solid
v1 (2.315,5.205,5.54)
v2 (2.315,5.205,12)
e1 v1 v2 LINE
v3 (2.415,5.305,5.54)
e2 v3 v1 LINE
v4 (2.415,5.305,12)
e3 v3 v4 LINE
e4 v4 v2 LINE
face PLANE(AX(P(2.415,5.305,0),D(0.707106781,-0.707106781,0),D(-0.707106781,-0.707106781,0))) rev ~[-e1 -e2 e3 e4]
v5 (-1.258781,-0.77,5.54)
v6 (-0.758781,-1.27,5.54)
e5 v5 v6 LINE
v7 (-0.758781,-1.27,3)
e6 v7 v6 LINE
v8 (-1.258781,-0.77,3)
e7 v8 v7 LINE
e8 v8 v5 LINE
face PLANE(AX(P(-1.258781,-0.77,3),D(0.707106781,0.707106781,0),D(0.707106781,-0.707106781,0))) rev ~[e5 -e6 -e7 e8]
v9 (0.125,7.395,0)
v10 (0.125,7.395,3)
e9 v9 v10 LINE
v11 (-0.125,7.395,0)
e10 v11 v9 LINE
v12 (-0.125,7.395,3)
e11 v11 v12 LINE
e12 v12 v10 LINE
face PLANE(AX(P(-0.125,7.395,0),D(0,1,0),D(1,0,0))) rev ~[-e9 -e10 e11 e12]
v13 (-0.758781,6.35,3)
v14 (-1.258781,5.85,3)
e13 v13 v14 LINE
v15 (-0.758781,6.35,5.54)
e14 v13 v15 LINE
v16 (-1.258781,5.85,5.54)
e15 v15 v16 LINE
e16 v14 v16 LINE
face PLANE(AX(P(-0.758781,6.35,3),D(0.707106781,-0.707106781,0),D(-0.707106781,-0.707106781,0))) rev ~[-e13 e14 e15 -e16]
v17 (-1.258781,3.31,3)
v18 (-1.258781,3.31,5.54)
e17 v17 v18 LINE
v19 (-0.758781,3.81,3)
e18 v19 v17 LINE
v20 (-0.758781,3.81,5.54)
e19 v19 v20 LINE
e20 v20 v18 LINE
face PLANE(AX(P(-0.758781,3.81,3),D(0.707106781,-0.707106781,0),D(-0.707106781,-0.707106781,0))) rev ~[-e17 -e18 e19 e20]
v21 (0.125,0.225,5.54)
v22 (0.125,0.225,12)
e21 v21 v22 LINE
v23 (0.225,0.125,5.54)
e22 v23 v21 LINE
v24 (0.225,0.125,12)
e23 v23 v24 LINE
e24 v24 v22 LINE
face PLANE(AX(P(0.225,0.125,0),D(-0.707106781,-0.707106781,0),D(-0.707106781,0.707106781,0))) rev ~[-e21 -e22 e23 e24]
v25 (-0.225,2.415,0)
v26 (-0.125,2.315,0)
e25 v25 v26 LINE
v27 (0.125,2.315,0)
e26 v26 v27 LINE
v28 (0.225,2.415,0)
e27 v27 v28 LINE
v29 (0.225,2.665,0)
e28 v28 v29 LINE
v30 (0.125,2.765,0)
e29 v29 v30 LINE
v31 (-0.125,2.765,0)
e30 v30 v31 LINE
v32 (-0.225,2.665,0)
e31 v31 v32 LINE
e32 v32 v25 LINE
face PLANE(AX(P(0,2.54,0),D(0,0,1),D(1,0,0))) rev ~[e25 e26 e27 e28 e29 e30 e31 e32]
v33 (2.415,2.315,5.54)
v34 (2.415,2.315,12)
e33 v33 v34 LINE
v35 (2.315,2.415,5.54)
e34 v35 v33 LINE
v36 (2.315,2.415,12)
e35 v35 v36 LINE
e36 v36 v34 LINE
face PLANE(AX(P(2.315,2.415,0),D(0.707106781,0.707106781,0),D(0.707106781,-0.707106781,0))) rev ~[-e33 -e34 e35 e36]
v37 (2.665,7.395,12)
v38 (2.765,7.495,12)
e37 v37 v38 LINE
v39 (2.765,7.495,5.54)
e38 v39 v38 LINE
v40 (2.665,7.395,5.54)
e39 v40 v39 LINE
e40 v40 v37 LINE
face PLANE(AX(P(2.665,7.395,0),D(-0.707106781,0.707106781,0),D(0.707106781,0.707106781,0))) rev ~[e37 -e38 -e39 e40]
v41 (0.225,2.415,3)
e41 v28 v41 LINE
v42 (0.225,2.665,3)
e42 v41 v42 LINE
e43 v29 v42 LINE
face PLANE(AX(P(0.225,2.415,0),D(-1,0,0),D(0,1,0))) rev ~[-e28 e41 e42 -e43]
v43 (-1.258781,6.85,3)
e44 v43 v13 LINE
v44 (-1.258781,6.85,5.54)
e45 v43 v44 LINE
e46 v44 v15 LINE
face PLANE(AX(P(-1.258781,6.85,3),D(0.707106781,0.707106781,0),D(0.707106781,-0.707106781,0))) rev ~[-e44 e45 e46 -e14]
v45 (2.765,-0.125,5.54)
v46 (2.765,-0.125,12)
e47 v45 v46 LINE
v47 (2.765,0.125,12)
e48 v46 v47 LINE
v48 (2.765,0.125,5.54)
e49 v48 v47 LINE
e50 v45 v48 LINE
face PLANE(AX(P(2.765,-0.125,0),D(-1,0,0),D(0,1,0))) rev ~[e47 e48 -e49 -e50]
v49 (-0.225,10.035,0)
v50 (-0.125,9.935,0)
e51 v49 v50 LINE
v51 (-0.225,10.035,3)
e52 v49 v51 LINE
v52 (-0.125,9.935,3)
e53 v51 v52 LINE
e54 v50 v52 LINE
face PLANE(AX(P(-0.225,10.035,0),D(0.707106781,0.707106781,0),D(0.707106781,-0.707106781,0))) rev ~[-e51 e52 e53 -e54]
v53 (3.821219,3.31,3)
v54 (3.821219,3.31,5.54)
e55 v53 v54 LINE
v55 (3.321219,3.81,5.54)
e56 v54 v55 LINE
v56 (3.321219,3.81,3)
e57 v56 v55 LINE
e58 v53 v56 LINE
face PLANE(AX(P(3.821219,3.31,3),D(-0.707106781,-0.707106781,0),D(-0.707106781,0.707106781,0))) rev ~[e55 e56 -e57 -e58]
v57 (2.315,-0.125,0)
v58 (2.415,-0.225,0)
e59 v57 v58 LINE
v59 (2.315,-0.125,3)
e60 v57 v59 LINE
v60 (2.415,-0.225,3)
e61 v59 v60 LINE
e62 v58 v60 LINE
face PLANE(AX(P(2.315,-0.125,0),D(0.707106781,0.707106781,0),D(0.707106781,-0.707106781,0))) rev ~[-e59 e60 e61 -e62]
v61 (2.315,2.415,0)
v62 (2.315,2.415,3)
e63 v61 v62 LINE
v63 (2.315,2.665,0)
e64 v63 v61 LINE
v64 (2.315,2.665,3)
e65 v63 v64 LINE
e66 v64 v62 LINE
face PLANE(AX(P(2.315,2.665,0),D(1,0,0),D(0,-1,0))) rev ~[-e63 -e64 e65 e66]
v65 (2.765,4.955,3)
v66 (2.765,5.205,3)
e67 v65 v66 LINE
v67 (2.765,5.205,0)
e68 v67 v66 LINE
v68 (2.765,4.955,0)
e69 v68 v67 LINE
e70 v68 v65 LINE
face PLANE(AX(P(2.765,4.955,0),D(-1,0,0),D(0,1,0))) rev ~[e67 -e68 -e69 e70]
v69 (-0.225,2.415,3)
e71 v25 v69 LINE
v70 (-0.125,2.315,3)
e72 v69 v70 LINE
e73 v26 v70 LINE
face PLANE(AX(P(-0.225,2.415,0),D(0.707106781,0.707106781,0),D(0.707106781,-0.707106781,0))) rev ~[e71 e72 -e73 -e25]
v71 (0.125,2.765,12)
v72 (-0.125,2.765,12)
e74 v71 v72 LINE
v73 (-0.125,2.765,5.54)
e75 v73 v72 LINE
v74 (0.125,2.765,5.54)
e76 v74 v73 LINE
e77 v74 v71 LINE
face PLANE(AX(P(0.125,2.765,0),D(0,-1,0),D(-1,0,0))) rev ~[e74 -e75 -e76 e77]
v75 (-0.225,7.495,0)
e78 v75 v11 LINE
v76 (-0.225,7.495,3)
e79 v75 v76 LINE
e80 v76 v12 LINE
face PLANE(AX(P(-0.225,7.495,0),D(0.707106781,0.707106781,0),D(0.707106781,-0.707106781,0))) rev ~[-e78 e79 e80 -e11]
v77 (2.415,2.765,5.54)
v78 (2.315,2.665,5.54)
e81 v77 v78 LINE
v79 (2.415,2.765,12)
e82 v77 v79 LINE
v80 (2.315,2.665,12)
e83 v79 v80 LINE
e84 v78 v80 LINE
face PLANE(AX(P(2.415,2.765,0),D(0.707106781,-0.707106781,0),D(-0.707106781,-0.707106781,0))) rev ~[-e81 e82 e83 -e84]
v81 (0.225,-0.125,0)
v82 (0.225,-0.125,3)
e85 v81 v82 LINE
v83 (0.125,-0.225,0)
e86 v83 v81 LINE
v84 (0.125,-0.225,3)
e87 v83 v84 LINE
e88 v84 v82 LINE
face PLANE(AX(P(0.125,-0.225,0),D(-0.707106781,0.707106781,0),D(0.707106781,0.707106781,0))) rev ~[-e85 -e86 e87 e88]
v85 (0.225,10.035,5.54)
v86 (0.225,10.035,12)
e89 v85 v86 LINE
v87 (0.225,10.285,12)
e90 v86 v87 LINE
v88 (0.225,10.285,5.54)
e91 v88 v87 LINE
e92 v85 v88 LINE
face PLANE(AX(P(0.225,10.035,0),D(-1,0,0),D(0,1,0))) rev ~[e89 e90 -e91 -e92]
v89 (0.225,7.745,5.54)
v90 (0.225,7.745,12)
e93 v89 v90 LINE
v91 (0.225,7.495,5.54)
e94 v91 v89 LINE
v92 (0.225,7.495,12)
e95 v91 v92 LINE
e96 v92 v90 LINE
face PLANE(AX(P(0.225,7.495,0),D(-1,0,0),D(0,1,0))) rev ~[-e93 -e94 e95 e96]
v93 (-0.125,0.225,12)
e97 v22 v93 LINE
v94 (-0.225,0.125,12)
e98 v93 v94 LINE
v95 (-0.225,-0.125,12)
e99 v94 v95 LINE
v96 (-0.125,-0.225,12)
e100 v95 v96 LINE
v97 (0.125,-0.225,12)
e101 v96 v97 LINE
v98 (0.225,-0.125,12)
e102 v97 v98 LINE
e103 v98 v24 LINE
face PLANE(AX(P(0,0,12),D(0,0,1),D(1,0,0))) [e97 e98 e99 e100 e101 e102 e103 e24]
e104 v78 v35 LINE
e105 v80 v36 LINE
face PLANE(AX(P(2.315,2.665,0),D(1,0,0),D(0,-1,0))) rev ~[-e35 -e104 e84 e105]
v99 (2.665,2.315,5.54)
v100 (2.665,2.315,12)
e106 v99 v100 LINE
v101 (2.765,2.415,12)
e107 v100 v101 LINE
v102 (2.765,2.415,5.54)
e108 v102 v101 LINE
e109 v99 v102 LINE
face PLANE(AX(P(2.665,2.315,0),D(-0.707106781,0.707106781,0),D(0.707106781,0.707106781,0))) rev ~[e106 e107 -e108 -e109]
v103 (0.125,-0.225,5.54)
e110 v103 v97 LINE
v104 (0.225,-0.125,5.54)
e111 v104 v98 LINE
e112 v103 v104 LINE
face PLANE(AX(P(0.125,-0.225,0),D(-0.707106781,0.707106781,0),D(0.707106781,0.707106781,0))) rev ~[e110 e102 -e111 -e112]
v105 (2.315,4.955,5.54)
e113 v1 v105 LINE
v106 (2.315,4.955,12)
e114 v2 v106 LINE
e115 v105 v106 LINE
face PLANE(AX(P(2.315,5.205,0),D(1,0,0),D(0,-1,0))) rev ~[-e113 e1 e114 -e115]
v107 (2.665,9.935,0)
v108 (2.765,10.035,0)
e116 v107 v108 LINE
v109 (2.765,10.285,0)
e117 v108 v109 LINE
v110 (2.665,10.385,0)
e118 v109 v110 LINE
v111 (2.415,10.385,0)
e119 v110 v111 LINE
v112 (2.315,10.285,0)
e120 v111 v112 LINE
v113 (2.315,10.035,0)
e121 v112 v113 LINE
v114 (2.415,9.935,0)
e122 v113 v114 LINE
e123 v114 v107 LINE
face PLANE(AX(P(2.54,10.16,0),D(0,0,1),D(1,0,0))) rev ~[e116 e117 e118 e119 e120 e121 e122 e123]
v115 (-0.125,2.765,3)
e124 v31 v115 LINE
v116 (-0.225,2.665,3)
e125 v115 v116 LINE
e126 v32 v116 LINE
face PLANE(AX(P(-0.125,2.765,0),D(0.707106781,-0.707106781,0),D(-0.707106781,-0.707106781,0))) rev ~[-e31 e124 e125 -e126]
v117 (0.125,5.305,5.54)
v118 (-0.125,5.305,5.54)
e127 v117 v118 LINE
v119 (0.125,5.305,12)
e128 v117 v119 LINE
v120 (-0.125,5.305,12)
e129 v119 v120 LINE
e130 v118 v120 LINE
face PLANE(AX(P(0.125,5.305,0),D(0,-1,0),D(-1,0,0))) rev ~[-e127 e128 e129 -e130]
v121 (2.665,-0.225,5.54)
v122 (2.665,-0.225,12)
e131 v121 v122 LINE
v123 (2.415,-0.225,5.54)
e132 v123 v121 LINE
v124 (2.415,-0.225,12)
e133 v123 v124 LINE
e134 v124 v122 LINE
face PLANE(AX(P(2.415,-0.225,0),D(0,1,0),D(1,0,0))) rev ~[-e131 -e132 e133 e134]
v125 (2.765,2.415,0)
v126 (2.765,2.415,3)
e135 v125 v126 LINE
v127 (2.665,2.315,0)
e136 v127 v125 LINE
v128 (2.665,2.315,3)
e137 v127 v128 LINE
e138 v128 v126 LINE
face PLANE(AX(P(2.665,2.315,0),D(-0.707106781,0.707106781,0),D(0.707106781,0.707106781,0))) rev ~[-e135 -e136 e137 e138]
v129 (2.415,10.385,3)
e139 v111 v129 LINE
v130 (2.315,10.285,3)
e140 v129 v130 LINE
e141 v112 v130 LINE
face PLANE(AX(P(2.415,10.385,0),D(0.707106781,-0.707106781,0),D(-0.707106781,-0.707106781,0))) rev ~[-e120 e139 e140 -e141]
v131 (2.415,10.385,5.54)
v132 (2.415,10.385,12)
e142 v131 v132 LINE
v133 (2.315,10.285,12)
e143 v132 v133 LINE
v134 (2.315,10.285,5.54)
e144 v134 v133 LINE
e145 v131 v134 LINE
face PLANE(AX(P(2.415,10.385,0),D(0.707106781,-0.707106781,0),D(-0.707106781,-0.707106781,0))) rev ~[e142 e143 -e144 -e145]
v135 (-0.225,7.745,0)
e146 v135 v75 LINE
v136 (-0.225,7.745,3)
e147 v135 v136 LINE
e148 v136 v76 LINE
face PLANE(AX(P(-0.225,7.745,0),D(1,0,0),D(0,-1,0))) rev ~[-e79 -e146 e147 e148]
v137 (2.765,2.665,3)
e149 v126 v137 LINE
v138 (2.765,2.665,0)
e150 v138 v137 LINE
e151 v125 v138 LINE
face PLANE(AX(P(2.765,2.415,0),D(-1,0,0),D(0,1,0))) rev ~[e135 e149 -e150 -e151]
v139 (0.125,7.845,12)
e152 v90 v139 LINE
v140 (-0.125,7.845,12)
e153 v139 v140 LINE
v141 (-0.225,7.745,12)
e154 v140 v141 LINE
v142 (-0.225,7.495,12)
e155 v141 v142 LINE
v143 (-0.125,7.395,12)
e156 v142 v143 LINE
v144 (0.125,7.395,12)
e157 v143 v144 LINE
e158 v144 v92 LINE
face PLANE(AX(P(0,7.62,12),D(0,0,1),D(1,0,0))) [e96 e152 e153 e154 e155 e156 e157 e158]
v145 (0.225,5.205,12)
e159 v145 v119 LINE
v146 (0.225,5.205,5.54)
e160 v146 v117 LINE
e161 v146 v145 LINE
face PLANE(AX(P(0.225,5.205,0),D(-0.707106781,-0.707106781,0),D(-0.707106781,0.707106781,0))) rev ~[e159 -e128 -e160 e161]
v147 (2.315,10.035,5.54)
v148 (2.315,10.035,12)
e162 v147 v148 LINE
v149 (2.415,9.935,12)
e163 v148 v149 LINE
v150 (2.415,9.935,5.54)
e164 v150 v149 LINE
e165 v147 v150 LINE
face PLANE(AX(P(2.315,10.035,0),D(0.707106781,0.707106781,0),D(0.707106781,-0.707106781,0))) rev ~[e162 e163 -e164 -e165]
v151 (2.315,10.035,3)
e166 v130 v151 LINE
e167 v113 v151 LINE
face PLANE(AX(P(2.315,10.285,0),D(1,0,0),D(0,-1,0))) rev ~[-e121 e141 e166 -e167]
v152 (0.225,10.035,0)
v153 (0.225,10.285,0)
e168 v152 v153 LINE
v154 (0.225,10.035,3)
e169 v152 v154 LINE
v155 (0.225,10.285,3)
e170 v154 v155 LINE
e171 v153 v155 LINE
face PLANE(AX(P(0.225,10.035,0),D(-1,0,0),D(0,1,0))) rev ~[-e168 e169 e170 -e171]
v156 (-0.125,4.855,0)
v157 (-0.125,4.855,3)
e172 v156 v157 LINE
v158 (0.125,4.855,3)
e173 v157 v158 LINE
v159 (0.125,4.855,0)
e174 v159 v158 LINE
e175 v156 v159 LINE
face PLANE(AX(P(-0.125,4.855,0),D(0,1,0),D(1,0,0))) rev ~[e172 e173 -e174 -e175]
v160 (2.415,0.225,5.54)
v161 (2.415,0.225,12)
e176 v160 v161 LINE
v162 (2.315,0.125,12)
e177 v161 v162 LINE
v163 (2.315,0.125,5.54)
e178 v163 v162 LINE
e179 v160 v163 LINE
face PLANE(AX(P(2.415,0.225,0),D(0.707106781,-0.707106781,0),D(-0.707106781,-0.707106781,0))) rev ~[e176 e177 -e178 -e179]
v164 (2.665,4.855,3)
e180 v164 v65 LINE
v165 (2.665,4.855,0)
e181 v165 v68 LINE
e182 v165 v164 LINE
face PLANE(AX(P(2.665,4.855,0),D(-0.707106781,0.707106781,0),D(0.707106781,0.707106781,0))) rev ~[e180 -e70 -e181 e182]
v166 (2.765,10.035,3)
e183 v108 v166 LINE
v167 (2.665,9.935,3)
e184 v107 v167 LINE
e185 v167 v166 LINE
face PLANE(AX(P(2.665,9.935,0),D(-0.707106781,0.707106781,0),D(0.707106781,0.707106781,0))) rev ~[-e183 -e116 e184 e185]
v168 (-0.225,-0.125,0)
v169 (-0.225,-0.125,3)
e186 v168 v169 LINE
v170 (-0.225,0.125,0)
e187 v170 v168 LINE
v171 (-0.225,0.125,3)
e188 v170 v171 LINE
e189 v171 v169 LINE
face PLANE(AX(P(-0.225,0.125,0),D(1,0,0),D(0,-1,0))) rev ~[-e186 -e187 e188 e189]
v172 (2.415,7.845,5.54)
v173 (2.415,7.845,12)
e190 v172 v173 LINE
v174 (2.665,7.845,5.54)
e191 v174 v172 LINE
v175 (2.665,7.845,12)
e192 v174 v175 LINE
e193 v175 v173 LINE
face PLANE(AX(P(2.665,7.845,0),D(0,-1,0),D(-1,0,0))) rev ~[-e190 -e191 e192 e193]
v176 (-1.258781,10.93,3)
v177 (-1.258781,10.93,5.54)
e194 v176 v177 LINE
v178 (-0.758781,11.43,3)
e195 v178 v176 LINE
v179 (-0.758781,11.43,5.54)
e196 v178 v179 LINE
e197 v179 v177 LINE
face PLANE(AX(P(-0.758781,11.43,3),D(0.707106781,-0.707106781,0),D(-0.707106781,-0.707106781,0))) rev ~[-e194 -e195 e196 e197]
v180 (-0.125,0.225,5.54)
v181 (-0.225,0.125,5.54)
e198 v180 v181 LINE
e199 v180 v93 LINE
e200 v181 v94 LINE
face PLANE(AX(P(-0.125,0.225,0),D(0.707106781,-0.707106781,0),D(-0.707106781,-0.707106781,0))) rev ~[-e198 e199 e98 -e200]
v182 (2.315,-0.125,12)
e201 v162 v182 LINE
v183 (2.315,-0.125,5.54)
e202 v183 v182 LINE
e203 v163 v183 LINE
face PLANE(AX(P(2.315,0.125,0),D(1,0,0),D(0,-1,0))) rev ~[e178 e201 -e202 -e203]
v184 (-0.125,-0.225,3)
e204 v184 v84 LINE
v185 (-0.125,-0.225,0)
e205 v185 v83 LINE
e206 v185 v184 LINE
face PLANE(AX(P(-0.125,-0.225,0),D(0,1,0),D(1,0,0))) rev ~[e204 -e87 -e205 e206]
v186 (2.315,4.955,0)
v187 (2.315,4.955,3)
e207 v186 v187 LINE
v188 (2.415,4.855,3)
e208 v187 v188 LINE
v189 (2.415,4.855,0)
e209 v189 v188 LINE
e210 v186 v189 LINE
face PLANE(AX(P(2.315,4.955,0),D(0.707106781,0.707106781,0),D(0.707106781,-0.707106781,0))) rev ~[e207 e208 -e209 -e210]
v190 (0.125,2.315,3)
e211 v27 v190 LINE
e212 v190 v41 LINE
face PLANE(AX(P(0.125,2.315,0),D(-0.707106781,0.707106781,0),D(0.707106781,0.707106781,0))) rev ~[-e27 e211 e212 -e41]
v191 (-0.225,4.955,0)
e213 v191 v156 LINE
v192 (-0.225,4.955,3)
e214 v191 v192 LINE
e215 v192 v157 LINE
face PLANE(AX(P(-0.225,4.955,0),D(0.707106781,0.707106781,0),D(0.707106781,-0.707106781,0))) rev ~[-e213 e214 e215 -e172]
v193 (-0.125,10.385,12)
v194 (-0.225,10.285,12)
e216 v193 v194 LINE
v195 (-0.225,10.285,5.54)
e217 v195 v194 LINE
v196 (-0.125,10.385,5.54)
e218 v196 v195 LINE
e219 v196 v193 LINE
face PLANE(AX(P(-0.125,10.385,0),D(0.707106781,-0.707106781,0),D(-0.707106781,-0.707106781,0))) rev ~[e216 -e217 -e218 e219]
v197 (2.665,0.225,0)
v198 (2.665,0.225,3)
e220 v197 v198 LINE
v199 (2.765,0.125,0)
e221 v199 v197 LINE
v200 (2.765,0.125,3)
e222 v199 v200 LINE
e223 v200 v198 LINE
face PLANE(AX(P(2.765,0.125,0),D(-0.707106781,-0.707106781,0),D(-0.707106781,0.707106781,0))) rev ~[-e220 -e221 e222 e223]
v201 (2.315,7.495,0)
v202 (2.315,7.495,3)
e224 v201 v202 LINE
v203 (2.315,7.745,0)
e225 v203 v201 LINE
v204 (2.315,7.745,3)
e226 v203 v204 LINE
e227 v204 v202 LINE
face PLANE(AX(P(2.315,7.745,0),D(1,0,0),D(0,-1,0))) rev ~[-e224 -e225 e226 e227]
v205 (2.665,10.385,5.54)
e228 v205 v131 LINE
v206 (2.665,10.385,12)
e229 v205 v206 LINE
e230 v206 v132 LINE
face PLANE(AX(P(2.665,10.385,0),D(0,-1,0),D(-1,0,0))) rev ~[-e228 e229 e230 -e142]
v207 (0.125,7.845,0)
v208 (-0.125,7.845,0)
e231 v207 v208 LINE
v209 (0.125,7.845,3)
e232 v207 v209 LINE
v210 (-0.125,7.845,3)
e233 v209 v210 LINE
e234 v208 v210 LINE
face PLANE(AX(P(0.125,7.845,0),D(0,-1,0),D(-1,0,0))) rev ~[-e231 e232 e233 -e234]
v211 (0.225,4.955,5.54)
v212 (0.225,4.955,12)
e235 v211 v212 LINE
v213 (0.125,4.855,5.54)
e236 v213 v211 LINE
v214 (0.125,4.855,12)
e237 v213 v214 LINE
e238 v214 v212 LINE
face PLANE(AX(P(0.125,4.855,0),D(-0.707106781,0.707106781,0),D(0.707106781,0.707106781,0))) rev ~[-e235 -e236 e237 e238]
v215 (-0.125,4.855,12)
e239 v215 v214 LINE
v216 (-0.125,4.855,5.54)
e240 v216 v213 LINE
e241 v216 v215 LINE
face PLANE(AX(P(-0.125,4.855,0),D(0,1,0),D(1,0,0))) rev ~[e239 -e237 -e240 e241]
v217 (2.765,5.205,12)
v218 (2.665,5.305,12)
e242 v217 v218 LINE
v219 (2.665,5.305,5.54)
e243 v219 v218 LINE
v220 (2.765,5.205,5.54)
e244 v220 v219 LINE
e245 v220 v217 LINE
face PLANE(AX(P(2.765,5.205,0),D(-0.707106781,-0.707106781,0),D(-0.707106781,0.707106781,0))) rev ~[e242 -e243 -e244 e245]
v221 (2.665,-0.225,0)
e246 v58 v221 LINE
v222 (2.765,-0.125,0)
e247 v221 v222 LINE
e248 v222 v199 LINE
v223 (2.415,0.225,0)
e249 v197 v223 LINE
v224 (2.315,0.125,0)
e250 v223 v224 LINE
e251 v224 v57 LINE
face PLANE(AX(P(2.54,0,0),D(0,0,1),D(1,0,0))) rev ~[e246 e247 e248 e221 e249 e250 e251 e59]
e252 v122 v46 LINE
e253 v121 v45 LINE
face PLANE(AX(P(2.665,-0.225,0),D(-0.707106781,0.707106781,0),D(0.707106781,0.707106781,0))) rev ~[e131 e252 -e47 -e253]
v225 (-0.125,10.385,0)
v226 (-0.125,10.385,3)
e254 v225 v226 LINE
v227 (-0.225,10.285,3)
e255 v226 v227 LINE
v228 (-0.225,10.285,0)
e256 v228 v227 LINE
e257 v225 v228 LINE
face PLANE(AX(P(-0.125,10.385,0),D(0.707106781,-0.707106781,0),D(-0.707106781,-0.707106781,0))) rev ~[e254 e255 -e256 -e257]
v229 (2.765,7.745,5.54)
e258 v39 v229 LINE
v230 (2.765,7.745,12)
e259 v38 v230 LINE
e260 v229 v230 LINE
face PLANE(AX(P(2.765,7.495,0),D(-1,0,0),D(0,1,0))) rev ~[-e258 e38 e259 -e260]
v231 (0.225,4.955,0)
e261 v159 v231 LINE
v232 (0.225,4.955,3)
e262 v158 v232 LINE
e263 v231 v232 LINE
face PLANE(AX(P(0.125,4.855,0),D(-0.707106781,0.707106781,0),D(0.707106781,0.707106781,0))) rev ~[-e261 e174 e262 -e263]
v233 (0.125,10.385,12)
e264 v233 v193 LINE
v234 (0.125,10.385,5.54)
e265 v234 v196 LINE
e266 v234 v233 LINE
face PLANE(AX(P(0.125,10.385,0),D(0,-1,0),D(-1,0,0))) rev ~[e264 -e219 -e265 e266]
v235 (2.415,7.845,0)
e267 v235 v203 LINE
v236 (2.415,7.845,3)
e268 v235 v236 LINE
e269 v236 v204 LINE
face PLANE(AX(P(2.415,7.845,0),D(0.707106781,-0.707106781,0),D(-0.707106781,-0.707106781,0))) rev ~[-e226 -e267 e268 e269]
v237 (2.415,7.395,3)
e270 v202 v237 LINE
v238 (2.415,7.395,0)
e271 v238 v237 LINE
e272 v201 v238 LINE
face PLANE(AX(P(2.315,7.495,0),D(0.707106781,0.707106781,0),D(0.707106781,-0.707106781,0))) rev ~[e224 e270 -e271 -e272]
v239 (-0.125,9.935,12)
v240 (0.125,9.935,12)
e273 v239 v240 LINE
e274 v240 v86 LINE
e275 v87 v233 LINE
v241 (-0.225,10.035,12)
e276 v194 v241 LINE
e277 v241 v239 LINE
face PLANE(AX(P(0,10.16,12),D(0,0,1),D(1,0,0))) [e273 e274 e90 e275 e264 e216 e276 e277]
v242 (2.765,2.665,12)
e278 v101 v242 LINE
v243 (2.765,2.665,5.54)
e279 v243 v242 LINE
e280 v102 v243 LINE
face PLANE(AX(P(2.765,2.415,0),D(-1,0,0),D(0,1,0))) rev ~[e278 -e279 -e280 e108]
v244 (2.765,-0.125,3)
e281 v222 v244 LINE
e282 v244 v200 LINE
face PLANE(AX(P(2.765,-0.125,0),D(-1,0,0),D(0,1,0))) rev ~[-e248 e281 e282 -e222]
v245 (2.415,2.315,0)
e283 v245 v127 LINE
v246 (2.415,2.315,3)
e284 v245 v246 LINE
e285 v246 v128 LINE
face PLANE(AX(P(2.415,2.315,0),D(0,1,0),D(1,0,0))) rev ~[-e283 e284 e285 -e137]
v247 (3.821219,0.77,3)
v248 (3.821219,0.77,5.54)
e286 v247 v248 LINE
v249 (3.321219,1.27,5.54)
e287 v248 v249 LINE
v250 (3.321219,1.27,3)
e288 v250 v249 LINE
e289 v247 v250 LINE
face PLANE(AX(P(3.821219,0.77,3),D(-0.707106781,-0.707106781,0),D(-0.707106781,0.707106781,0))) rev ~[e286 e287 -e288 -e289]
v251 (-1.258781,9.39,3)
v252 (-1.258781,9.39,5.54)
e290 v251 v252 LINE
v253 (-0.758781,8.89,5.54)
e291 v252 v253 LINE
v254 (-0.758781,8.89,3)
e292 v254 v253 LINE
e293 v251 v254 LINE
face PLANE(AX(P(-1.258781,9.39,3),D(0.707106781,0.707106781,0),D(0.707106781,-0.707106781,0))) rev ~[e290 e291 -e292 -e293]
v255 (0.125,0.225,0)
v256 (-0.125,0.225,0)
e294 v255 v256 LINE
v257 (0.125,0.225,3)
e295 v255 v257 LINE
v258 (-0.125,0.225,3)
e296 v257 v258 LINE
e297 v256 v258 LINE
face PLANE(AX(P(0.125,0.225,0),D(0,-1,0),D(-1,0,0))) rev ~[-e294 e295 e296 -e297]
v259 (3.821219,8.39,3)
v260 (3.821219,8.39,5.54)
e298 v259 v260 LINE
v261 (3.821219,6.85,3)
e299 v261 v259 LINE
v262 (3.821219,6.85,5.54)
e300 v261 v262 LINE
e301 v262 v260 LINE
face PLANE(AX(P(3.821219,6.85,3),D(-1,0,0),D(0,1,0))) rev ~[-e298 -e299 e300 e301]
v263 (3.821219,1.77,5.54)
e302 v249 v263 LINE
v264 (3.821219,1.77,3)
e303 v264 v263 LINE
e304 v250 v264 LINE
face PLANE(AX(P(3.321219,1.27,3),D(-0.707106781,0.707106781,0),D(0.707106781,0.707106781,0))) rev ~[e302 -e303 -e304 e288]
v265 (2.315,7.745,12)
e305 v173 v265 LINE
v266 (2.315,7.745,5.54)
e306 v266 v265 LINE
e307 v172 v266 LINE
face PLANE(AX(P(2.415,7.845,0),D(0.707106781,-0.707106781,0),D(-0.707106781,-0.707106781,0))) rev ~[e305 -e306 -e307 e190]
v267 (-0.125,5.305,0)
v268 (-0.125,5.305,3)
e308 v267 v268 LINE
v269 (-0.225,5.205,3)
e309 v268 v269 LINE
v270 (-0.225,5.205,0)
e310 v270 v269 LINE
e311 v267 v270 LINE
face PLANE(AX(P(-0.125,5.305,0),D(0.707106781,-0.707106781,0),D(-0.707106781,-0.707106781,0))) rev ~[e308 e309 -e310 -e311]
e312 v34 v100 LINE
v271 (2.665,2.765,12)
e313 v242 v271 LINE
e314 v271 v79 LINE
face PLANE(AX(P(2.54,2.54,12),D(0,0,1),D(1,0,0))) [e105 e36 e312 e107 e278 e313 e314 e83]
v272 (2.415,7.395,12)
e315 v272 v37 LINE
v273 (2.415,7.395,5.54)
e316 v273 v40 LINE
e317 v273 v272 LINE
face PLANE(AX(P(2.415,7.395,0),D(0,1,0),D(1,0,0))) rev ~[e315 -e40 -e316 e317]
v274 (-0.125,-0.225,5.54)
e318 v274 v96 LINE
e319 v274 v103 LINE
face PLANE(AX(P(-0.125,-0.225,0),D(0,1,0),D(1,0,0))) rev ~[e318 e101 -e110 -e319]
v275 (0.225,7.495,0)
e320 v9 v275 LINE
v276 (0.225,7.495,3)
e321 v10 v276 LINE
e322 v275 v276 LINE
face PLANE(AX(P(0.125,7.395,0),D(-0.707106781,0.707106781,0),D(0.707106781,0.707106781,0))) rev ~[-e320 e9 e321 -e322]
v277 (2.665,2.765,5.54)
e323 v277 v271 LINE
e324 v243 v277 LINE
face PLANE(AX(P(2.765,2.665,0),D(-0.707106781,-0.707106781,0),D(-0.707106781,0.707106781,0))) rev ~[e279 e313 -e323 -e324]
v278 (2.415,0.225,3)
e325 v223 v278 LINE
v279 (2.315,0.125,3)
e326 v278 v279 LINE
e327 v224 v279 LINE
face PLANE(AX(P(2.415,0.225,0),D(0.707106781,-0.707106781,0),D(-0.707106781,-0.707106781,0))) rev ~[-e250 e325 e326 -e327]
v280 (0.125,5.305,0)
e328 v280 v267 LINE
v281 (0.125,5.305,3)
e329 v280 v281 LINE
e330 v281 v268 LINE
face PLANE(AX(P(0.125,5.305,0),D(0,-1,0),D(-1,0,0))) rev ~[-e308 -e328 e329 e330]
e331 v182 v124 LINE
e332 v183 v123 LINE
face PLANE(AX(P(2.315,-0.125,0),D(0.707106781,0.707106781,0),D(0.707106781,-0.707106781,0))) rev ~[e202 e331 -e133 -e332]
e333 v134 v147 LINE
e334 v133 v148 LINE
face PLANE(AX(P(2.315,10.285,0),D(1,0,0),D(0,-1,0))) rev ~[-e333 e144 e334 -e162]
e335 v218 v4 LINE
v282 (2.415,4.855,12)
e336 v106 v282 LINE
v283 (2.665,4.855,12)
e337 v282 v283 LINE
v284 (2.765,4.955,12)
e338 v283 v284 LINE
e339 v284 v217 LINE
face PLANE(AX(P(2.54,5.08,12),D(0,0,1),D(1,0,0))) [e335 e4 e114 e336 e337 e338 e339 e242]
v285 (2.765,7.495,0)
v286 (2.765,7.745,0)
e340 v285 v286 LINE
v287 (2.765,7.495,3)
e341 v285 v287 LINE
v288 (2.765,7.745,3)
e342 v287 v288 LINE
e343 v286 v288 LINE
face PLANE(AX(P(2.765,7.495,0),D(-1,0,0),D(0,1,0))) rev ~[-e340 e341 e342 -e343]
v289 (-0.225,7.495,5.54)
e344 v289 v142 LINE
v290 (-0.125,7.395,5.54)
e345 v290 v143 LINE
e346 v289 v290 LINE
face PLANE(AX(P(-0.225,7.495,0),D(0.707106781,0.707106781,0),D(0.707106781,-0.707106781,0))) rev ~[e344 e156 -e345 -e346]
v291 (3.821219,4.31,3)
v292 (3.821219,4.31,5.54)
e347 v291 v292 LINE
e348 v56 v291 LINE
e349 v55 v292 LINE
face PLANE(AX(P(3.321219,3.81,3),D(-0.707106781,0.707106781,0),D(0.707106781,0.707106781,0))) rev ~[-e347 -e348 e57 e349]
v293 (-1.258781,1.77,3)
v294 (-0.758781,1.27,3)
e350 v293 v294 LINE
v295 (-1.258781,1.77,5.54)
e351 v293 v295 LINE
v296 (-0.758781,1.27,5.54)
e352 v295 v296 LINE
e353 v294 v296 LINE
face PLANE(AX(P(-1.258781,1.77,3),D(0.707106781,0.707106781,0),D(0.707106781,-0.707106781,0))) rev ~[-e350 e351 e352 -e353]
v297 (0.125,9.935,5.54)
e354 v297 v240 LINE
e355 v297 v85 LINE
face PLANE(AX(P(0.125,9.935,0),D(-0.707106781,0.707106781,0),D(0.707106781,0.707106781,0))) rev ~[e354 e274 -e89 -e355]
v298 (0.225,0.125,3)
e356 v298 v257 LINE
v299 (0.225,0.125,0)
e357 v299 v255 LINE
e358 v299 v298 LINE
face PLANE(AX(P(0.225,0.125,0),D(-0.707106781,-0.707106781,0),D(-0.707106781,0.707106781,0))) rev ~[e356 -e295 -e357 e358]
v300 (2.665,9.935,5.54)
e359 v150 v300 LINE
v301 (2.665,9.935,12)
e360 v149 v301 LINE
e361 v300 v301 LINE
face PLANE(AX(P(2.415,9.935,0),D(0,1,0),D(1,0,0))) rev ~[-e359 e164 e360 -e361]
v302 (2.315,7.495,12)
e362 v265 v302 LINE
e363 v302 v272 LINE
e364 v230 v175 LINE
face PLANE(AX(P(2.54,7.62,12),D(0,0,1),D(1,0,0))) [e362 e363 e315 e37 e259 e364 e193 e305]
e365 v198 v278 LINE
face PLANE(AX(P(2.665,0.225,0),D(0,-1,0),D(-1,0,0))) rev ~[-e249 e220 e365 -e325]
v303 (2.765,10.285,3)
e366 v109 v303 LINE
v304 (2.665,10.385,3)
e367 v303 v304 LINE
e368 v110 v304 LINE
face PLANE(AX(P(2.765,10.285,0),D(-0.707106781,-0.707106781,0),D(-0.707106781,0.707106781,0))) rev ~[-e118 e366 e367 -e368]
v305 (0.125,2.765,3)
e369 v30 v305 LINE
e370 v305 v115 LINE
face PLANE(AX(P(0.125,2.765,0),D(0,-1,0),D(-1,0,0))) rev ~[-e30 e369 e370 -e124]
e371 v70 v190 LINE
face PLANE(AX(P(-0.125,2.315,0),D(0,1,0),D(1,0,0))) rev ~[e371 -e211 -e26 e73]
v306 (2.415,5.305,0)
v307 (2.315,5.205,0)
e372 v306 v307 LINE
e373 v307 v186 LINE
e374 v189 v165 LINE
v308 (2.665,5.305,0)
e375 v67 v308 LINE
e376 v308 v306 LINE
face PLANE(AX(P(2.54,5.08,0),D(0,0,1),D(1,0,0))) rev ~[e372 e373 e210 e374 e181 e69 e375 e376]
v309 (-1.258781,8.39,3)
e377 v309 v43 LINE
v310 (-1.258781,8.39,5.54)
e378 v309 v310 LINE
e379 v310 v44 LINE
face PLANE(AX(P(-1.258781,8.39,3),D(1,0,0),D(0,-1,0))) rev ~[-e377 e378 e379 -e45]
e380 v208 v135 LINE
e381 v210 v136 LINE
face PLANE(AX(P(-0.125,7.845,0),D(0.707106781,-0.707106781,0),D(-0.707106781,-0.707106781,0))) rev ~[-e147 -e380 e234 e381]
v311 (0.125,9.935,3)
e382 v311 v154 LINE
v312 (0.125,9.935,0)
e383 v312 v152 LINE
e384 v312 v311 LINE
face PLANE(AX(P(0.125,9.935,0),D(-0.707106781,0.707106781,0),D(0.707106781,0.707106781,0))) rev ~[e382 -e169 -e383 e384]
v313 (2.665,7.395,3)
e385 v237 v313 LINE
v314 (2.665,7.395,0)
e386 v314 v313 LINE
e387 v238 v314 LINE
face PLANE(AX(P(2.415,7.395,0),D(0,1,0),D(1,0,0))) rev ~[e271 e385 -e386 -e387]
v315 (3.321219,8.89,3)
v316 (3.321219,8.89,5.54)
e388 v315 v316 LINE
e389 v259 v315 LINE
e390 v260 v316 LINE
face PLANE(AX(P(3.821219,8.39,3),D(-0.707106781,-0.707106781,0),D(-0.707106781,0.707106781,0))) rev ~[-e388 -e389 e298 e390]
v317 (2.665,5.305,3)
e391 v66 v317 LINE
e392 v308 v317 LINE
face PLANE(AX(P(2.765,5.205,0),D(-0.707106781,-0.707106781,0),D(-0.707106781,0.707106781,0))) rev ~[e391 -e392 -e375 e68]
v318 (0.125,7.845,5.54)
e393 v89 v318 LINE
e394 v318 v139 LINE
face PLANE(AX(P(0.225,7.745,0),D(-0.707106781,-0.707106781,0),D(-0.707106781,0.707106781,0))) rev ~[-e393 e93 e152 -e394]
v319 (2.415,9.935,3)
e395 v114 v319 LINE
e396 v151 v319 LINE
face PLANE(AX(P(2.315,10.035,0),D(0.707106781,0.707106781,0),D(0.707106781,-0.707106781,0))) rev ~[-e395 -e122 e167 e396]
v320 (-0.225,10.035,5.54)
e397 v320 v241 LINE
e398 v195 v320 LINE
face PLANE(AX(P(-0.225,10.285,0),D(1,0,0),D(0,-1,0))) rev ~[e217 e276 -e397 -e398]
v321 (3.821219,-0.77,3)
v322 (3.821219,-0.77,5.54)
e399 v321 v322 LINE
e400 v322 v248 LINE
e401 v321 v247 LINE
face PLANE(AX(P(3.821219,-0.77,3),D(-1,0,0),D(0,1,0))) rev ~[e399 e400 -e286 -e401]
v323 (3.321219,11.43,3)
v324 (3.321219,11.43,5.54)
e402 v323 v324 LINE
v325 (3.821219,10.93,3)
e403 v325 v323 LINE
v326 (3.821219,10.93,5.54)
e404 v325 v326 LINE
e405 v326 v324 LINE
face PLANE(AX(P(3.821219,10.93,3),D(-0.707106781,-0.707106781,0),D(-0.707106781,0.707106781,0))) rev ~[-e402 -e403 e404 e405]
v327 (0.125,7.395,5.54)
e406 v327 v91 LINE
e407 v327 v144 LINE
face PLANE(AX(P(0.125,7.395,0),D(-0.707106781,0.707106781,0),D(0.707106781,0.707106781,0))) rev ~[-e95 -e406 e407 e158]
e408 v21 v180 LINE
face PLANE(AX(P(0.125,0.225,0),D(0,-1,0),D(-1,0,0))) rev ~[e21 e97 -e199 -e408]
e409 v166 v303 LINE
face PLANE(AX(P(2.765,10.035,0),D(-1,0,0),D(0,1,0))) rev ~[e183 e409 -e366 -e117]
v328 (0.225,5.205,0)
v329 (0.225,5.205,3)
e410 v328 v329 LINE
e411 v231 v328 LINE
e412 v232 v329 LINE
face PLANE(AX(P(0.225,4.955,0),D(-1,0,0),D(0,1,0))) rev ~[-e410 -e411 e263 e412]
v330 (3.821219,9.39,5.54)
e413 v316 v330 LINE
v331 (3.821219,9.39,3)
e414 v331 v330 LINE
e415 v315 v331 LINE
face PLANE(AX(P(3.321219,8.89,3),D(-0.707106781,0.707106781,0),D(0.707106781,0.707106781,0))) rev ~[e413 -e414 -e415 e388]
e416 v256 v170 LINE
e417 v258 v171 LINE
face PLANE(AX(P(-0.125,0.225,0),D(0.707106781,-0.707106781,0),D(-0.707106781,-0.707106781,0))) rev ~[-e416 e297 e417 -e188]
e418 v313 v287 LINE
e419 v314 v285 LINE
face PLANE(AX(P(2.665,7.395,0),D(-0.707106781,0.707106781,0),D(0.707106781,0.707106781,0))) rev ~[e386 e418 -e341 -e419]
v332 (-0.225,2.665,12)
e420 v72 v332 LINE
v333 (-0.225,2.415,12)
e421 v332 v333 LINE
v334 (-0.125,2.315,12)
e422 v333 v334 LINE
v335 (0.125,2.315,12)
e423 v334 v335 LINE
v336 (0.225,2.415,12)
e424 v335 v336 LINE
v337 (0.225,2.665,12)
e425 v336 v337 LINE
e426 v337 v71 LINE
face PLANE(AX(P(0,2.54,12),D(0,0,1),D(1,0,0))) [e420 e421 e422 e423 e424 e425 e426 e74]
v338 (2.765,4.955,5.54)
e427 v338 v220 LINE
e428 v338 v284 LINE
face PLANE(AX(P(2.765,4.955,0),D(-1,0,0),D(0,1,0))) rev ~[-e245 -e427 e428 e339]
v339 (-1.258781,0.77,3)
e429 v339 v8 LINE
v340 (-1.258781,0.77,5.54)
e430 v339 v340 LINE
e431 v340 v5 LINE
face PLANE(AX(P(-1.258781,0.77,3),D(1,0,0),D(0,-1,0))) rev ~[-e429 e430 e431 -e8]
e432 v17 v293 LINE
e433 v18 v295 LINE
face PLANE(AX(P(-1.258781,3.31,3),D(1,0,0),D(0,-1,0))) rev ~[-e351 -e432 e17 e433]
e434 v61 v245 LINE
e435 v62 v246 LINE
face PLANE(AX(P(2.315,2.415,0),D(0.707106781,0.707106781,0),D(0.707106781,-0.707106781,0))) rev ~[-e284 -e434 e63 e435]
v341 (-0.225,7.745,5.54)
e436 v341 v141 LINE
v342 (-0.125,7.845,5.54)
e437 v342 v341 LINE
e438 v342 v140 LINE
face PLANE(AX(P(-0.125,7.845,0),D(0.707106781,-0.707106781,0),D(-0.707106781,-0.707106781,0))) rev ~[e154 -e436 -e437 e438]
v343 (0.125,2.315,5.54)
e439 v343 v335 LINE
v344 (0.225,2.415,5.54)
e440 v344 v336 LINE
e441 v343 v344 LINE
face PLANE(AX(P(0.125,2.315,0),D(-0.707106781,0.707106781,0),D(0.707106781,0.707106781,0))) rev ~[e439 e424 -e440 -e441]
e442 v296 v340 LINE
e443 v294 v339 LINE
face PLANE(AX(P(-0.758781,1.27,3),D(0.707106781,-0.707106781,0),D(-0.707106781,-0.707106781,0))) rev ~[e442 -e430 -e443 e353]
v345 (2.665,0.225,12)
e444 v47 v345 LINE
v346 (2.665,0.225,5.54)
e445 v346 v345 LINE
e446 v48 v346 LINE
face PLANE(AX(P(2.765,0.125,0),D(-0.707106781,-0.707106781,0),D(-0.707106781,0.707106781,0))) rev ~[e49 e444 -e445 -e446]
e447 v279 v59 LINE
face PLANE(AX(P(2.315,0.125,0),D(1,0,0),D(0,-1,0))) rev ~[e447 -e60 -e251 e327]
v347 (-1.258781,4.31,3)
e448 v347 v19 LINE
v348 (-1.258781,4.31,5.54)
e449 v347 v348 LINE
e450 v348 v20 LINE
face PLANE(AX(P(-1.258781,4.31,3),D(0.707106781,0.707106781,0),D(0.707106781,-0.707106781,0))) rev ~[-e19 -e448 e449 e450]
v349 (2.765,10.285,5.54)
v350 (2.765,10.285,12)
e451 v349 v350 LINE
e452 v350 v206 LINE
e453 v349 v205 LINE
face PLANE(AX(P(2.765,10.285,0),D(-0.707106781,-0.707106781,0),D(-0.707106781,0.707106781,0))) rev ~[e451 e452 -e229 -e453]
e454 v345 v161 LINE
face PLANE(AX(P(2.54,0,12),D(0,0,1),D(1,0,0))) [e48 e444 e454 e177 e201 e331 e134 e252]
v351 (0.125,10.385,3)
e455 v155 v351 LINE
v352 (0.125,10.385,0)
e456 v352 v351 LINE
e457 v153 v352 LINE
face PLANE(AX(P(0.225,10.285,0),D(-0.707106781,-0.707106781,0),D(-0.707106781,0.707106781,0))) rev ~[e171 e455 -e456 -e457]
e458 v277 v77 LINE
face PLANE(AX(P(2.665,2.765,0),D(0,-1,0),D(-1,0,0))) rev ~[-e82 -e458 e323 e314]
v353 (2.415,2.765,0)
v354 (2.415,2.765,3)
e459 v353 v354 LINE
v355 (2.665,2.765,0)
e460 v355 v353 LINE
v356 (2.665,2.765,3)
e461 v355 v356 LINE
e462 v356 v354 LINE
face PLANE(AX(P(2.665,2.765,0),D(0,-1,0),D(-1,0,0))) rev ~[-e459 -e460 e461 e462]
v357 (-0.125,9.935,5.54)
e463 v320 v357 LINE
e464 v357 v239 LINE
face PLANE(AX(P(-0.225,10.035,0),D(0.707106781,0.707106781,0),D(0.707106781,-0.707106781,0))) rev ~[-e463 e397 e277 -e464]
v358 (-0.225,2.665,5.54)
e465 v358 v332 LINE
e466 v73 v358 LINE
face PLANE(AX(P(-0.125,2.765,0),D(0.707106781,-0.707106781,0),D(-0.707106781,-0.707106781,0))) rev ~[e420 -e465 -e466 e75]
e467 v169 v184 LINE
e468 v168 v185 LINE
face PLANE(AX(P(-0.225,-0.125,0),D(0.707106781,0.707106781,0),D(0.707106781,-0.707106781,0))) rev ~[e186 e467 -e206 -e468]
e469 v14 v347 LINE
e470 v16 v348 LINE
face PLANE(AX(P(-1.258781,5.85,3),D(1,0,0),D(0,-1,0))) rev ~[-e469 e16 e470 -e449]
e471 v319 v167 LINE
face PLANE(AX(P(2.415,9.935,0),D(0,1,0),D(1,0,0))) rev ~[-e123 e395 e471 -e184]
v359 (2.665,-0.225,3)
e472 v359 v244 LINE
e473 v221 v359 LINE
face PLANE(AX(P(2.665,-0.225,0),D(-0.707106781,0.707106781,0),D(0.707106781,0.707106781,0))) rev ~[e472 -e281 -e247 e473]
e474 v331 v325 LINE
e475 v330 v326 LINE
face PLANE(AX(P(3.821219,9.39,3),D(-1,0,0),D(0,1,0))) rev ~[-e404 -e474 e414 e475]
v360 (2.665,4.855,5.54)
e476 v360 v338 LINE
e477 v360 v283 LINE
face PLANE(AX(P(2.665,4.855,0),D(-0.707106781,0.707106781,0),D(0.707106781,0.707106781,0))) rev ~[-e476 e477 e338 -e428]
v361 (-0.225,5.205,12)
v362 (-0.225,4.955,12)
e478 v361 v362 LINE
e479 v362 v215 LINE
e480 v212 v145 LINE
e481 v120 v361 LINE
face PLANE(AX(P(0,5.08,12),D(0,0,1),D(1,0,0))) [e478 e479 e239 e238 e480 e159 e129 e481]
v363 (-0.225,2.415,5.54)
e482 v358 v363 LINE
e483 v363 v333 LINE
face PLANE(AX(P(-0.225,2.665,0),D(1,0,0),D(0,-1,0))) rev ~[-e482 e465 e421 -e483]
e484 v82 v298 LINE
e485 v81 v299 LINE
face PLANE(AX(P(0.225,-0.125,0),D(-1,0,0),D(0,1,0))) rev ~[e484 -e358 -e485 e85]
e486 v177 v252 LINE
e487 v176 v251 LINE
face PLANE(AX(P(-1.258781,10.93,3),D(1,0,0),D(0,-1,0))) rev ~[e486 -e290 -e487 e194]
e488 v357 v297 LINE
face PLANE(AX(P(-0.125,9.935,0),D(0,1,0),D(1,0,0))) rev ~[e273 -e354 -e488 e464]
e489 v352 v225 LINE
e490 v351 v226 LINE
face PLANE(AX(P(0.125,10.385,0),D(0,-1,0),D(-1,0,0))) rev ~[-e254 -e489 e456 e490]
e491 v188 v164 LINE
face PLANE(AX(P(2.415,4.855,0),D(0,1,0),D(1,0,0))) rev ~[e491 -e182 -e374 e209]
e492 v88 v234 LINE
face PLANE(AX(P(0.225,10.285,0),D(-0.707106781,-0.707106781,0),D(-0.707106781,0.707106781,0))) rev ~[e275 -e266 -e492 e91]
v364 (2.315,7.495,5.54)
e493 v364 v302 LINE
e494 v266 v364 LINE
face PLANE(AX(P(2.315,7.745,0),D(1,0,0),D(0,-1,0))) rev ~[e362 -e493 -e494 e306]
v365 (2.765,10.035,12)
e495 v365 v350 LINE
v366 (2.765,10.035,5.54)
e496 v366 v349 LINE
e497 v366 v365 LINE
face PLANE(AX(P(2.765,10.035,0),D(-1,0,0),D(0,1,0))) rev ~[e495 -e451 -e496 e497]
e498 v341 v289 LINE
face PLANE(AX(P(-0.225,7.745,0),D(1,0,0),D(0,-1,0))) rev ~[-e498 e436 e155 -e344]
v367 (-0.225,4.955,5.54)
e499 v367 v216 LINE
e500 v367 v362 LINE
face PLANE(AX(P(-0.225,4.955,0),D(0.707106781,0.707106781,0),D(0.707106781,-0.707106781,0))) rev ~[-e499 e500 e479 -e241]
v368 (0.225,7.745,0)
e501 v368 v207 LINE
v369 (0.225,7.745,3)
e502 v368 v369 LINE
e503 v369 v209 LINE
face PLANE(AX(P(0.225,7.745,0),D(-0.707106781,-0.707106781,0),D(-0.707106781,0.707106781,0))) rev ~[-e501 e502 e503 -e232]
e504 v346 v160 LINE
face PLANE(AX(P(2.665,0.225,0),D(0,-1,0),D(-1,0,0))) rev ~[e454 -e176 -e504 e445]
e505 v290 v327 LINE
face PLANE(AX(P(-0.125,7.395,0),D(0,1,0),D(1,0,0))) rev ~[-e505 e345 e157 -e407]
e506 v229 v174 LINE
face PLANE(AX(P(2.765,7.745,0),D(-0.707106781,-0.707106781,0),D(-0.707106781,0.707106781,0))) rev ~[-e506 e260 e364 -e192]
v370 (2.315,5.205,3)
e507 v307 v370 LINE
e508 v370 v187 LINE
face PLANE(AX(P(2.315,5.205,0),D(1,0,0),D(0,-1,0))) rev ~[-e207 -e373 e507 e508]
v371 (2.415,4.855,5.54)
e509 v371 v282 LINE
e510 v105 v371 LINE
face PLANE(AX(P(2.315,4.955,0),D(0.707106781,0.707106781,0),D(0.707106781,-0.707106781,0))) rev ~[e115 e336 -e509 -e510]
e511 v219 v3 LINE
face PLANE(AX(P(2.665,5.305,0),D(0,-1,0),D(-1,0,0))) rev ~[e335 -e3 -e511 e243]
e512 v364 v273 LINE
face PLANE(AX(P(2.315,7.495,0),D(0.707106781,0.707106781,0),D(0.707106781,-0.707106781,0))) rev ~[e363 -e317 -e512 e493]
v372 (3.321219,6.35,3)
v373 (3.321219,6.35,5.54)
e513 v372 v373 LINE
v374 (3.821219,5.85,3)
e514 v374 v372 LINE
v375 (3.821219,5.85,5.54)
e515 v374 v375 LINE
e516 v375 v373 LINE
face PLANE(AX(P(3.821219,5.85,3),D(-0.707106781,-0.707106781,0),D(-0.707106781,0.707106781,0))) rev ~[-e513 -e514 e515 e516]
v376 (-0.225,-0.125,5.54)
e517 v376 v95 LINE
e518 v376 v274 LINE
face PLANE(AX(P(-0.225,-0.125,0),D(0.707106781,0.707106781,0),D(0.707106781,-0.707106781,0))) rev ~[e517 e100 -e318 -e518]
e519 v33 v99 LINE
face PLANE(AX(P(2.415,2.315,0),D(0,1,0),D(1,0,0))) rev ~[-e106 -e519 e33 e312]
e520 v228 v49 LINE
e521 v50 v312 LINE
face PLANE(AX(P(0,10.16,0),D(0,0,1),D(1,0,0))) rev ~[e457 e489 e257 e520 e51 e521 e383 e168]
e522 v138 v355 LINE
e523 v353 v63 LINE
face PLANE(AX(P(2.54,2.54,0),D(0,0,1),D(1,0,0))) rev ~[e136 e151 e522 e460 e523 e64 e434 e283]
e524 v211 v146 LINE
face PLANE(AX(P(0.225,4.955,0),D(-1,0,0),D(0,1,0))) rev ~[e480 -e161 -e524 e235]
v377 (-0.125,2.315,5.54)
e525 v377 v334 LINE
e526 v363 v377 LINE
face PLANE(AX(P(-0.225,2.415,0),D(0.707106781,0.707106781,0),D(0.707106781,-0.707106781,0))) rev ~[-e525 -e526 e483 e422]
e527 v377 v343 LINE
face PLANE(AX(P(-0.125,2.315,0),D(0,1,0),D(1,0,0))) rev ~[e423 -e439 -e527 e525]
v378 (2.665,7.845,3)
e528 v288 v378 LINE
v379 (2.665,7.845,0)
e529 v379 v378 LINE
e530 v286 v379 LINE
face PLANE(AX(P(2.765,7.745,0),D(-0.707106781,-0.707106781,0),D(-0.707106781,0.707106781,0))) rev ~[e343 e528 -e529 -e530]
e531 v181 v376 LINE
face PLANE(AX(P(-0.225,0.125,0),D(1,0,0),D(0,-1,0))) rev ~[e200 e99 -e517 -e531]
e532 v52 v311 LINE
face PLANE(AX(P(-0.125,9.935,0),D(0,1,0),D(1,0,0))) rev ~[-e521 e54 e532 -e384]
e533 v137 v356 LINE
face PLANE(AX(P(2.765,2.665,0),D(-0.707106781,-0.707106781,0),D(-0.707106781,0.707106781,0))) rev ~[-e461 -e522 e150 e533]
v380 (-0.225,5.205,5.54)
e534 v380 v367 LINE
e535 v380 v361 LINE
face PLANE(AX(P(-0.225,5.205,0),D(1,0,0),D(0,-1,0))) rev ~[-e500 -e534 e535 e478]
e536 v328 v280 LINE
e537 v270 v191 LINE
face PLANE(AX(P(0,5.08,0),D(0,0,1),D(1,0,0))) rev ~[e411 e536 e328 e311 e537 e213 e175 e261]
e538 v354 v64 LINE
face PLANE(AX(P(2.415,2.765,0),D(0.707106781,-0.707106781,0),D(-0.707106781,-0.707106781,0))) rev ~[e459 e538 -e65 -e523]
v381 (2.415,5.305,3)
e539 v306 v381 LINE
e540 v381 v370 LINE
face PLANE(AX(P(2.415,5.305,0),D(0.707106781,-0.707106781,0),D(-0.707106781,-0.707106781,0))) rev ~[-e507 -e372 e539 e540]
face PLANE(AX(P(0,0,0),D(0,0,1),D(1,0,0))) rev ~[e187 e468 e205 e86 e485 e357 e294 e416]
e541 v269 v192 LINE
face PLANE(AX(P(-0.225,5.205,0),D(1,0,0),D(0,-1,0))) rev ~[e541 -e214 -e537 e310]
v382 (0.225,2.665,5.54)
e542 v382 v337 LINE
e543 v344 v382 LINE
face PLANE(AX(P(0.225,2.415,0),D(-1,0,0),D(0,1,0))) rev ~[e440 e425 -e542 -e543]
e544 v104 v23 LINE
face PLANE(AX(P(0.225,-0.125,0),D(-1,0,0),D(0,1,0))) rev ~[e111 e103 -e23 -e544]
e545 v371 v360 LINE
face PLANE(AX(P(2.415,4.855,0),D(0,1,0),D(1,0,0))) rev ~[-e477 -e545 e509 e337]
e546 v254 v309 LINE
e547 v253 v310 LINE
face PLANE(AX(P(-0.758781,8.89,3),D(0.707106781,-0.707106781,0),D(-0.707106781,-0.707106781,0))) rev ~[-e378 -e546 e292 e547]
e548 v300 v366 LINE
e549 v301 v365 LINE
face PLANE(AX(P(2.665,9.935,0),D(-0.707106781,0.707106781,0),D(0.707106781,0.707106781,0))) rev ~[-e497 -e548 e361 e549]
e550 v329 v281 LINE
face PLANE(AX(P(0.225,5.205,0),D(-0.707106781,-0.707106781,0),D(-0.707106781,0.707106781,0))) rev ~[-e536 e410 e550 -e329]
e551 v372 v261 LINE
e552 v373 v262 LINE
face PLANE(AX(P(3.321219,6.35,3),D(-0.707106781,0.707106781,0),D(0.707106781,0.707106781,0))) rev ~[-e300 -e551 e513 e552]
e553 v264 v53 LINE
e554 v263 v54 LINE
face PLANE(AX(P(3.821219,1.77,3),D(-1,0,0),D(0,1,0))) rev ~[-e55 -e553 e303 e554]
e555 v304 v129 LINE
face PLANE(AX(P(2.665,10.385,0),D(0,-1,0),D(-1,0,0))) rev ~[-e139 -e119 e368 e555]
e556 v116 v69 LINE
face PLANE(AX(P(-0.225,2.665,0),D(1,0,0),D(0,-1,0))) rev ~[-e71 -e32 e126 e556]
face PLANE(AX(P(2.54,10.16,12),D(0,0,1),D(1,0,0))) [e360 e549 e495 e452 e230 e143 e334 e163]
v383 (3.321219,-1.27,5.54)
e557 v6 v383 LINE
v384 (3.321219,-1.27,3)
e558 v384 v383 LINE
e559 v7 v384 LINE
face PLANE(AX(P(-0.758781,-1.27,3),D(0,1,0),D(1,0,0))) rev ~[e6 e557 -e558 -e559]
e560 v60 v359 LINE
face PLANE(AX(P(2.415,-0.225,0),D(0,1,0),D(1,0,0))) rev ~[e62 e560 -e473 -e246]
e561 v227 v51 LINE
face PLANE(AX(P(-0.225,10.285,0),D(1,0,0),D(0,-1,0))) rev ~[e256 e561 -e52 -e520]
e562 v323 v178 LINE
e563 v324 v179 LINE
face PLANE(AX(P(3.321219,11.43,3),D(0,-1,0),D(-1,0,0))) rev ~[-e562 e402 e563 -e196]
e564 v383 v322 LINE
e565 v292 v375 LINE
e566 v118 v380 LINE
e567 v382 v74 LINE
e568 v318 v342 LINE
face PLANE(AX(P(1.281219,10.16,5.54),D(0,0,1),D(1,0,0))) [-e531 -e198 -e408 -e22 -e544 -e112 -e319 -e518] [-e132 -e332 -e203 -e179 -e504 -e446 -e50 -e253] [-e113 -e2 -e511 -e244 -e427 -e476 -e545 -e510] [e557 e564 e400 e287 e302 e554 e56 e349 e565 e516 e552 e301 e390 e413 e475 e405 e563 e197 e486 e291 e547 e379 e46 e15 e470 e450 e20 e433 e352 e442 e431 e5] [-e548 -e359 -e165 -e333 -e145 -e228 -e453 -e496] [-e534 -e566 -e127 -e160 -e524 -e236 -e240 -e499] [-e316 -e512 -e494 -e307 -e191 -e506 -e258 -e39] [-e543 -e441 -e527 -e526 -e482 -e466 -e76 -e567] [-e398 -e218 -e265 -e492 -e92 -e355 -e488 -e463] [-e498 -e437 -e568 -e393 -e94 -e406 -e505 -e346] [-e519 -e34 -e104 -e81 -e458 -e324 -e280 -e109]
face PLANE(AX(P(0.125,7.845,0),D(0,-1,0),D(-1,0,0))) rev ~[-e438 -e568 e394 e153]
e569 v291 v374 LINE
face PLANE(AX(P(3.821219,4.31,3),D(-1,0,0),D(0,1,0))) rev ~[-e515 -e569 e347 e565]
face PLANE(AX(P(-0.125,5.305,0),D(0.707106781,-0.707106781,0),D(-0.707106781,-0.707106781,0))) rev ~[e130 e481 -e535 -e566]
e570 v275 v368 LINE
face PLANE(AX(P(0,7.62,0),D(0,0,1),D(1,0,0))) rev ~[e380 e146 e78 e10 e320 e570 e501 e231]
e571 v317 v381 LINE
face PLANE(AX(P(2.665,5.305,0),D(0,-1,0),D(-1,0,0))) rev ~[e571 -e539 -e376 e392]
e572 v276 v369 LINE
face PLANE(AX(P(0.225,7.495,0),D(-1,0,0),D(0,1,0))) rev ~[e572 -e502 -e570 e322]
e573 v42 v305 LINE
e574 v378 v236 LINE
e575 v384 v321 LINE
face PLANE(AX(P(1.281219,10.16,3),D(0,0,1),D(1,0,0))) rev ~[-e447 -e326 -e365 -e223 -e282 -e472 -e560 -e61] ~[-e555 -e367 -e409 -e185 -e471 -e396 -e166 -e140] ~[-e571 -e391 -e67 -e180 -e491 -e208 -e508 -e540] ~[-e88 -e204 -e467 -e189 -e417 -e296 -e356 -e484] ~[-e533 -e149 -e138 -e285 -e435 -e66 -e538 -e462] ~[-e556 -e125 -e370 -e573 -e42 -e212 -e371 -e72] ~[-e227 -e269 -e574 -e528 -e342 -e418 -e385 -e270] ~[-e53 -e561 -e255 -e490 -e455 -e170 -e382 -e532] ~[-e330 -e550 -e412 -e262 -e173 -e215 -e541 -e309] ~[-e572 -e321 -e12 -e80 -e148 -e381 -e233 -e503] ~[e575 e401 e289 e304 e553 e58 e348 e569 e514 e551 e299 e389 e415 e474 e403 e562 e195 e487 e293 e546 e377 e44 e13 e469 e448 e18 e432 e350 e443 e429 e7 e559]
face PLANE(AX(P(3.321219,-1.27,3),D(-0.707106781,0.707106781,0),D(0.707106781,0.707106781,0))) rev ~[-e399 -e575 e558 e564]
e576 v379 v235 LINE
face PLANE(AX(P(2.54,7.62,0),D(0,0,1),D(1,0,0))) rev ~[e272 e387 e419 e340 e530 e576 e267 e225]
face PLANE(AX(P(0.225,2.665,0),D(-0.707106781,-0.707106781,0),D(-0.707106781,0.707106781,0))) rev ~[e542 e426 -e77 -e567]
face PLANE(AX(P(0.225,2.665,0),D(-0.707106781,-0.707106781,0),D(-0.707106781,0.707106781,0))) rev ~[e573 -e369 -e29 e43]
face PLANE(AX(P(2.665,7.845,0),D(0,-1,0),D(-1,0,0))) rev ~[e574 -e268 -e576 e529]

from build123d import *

# Parameters (mm, degrees)
BOSS_EXTRUDE1_DEPTH = 12
LPATTERN1_COUNT     = 2
LPATTERN1_PITCH     = 2.54
BOSS_EXTRUDE2_DEPTH = 2.54
LPATTERN2_COUNT     = 5
LPATTERN2_PITCH     = 2.54


with BuildPart() as part:
    # Sketch1 → Boss-Extrude1 (new body)
    with BuildSketch(Plane.XY):
        Polygon((-0.125, 0.225), (-0.225, 0.125), (-0.225, -0.125), (-0.125, -0.225), (0.125, -0.225), (0.225, -0.125), (0.225, 0.125), (0.125, 0.225), align=None)
    extrude(amount=BOSS_EXTRUDE1_DEPTH)


with BuildPart() as lpattern1_1:
    # LPattern1: pattern copy
    add(part.part.moved(Location(Vector(1, 0, 0) * (1 * LPATTERN1_PITCH))))


with BuildPart() as part_1:
    add(part.part)

    add(lpattern1_1.part)  # Boss-Extrude2 merges LPattern1_1
    # Sketch3 → Boss-Extrude2 (add)
    with BuildSketch(Plane(origin=(0, 0, 3), x_dir=(-1, 0, 0), z_dir=(0, 0, -1))):
        Polygon((-3.321218719, -1.27), (-3.821218719, -0.77), (-3.821218719, 0.77), (-3.321218719, 1.27), (0.758781281, 1.27), (1.258781281, 0.77), (1.258781281, -0.77), (0.758781281, -1.27), align=None)
    extrude(amount=-BOSS_EXTRUDE2_DEPTH)


with BuildPart() as lpattern2_1:
    # LPattern2: pattern copy
    add(part_1.part.moved(Location(Vector(0, 1, 0) * (1 * LPATTERN2_PITCH))))


with BuildPart() as lpattern2_2:
    # LPattern2: pattern copy
    add(part_1.part.moved(Location(Vector(0, 1, 0) * (2 * LPATTERN2_PITCH))))


with BuildPart() as lpattern2_3:
    # LPattern2: pattern copy
    add(part_1.part.moved(Location(Vector(0, 1, 0) * (3 * LPATTERN2_PITCH))))


with BuildPart() as lpattern2_4:
    # LPattern2: pattern copy
    add(part_1.part.moved(Location(Vector(0, 1, 0) * (4 * LPATTERN2_PITCH))))


with BuildPart() as part_2:
    add(part_1.part)

    # Combine1: union LPattern2_1, LPattern2_2, LPattern2_3, LPattern2_4
    add(lpattern2_1.part)
    add(lpattern2_2.part)
    add(lpattern2_3.part)
    add(lpattern2_4.part)


solid = part_2.part
